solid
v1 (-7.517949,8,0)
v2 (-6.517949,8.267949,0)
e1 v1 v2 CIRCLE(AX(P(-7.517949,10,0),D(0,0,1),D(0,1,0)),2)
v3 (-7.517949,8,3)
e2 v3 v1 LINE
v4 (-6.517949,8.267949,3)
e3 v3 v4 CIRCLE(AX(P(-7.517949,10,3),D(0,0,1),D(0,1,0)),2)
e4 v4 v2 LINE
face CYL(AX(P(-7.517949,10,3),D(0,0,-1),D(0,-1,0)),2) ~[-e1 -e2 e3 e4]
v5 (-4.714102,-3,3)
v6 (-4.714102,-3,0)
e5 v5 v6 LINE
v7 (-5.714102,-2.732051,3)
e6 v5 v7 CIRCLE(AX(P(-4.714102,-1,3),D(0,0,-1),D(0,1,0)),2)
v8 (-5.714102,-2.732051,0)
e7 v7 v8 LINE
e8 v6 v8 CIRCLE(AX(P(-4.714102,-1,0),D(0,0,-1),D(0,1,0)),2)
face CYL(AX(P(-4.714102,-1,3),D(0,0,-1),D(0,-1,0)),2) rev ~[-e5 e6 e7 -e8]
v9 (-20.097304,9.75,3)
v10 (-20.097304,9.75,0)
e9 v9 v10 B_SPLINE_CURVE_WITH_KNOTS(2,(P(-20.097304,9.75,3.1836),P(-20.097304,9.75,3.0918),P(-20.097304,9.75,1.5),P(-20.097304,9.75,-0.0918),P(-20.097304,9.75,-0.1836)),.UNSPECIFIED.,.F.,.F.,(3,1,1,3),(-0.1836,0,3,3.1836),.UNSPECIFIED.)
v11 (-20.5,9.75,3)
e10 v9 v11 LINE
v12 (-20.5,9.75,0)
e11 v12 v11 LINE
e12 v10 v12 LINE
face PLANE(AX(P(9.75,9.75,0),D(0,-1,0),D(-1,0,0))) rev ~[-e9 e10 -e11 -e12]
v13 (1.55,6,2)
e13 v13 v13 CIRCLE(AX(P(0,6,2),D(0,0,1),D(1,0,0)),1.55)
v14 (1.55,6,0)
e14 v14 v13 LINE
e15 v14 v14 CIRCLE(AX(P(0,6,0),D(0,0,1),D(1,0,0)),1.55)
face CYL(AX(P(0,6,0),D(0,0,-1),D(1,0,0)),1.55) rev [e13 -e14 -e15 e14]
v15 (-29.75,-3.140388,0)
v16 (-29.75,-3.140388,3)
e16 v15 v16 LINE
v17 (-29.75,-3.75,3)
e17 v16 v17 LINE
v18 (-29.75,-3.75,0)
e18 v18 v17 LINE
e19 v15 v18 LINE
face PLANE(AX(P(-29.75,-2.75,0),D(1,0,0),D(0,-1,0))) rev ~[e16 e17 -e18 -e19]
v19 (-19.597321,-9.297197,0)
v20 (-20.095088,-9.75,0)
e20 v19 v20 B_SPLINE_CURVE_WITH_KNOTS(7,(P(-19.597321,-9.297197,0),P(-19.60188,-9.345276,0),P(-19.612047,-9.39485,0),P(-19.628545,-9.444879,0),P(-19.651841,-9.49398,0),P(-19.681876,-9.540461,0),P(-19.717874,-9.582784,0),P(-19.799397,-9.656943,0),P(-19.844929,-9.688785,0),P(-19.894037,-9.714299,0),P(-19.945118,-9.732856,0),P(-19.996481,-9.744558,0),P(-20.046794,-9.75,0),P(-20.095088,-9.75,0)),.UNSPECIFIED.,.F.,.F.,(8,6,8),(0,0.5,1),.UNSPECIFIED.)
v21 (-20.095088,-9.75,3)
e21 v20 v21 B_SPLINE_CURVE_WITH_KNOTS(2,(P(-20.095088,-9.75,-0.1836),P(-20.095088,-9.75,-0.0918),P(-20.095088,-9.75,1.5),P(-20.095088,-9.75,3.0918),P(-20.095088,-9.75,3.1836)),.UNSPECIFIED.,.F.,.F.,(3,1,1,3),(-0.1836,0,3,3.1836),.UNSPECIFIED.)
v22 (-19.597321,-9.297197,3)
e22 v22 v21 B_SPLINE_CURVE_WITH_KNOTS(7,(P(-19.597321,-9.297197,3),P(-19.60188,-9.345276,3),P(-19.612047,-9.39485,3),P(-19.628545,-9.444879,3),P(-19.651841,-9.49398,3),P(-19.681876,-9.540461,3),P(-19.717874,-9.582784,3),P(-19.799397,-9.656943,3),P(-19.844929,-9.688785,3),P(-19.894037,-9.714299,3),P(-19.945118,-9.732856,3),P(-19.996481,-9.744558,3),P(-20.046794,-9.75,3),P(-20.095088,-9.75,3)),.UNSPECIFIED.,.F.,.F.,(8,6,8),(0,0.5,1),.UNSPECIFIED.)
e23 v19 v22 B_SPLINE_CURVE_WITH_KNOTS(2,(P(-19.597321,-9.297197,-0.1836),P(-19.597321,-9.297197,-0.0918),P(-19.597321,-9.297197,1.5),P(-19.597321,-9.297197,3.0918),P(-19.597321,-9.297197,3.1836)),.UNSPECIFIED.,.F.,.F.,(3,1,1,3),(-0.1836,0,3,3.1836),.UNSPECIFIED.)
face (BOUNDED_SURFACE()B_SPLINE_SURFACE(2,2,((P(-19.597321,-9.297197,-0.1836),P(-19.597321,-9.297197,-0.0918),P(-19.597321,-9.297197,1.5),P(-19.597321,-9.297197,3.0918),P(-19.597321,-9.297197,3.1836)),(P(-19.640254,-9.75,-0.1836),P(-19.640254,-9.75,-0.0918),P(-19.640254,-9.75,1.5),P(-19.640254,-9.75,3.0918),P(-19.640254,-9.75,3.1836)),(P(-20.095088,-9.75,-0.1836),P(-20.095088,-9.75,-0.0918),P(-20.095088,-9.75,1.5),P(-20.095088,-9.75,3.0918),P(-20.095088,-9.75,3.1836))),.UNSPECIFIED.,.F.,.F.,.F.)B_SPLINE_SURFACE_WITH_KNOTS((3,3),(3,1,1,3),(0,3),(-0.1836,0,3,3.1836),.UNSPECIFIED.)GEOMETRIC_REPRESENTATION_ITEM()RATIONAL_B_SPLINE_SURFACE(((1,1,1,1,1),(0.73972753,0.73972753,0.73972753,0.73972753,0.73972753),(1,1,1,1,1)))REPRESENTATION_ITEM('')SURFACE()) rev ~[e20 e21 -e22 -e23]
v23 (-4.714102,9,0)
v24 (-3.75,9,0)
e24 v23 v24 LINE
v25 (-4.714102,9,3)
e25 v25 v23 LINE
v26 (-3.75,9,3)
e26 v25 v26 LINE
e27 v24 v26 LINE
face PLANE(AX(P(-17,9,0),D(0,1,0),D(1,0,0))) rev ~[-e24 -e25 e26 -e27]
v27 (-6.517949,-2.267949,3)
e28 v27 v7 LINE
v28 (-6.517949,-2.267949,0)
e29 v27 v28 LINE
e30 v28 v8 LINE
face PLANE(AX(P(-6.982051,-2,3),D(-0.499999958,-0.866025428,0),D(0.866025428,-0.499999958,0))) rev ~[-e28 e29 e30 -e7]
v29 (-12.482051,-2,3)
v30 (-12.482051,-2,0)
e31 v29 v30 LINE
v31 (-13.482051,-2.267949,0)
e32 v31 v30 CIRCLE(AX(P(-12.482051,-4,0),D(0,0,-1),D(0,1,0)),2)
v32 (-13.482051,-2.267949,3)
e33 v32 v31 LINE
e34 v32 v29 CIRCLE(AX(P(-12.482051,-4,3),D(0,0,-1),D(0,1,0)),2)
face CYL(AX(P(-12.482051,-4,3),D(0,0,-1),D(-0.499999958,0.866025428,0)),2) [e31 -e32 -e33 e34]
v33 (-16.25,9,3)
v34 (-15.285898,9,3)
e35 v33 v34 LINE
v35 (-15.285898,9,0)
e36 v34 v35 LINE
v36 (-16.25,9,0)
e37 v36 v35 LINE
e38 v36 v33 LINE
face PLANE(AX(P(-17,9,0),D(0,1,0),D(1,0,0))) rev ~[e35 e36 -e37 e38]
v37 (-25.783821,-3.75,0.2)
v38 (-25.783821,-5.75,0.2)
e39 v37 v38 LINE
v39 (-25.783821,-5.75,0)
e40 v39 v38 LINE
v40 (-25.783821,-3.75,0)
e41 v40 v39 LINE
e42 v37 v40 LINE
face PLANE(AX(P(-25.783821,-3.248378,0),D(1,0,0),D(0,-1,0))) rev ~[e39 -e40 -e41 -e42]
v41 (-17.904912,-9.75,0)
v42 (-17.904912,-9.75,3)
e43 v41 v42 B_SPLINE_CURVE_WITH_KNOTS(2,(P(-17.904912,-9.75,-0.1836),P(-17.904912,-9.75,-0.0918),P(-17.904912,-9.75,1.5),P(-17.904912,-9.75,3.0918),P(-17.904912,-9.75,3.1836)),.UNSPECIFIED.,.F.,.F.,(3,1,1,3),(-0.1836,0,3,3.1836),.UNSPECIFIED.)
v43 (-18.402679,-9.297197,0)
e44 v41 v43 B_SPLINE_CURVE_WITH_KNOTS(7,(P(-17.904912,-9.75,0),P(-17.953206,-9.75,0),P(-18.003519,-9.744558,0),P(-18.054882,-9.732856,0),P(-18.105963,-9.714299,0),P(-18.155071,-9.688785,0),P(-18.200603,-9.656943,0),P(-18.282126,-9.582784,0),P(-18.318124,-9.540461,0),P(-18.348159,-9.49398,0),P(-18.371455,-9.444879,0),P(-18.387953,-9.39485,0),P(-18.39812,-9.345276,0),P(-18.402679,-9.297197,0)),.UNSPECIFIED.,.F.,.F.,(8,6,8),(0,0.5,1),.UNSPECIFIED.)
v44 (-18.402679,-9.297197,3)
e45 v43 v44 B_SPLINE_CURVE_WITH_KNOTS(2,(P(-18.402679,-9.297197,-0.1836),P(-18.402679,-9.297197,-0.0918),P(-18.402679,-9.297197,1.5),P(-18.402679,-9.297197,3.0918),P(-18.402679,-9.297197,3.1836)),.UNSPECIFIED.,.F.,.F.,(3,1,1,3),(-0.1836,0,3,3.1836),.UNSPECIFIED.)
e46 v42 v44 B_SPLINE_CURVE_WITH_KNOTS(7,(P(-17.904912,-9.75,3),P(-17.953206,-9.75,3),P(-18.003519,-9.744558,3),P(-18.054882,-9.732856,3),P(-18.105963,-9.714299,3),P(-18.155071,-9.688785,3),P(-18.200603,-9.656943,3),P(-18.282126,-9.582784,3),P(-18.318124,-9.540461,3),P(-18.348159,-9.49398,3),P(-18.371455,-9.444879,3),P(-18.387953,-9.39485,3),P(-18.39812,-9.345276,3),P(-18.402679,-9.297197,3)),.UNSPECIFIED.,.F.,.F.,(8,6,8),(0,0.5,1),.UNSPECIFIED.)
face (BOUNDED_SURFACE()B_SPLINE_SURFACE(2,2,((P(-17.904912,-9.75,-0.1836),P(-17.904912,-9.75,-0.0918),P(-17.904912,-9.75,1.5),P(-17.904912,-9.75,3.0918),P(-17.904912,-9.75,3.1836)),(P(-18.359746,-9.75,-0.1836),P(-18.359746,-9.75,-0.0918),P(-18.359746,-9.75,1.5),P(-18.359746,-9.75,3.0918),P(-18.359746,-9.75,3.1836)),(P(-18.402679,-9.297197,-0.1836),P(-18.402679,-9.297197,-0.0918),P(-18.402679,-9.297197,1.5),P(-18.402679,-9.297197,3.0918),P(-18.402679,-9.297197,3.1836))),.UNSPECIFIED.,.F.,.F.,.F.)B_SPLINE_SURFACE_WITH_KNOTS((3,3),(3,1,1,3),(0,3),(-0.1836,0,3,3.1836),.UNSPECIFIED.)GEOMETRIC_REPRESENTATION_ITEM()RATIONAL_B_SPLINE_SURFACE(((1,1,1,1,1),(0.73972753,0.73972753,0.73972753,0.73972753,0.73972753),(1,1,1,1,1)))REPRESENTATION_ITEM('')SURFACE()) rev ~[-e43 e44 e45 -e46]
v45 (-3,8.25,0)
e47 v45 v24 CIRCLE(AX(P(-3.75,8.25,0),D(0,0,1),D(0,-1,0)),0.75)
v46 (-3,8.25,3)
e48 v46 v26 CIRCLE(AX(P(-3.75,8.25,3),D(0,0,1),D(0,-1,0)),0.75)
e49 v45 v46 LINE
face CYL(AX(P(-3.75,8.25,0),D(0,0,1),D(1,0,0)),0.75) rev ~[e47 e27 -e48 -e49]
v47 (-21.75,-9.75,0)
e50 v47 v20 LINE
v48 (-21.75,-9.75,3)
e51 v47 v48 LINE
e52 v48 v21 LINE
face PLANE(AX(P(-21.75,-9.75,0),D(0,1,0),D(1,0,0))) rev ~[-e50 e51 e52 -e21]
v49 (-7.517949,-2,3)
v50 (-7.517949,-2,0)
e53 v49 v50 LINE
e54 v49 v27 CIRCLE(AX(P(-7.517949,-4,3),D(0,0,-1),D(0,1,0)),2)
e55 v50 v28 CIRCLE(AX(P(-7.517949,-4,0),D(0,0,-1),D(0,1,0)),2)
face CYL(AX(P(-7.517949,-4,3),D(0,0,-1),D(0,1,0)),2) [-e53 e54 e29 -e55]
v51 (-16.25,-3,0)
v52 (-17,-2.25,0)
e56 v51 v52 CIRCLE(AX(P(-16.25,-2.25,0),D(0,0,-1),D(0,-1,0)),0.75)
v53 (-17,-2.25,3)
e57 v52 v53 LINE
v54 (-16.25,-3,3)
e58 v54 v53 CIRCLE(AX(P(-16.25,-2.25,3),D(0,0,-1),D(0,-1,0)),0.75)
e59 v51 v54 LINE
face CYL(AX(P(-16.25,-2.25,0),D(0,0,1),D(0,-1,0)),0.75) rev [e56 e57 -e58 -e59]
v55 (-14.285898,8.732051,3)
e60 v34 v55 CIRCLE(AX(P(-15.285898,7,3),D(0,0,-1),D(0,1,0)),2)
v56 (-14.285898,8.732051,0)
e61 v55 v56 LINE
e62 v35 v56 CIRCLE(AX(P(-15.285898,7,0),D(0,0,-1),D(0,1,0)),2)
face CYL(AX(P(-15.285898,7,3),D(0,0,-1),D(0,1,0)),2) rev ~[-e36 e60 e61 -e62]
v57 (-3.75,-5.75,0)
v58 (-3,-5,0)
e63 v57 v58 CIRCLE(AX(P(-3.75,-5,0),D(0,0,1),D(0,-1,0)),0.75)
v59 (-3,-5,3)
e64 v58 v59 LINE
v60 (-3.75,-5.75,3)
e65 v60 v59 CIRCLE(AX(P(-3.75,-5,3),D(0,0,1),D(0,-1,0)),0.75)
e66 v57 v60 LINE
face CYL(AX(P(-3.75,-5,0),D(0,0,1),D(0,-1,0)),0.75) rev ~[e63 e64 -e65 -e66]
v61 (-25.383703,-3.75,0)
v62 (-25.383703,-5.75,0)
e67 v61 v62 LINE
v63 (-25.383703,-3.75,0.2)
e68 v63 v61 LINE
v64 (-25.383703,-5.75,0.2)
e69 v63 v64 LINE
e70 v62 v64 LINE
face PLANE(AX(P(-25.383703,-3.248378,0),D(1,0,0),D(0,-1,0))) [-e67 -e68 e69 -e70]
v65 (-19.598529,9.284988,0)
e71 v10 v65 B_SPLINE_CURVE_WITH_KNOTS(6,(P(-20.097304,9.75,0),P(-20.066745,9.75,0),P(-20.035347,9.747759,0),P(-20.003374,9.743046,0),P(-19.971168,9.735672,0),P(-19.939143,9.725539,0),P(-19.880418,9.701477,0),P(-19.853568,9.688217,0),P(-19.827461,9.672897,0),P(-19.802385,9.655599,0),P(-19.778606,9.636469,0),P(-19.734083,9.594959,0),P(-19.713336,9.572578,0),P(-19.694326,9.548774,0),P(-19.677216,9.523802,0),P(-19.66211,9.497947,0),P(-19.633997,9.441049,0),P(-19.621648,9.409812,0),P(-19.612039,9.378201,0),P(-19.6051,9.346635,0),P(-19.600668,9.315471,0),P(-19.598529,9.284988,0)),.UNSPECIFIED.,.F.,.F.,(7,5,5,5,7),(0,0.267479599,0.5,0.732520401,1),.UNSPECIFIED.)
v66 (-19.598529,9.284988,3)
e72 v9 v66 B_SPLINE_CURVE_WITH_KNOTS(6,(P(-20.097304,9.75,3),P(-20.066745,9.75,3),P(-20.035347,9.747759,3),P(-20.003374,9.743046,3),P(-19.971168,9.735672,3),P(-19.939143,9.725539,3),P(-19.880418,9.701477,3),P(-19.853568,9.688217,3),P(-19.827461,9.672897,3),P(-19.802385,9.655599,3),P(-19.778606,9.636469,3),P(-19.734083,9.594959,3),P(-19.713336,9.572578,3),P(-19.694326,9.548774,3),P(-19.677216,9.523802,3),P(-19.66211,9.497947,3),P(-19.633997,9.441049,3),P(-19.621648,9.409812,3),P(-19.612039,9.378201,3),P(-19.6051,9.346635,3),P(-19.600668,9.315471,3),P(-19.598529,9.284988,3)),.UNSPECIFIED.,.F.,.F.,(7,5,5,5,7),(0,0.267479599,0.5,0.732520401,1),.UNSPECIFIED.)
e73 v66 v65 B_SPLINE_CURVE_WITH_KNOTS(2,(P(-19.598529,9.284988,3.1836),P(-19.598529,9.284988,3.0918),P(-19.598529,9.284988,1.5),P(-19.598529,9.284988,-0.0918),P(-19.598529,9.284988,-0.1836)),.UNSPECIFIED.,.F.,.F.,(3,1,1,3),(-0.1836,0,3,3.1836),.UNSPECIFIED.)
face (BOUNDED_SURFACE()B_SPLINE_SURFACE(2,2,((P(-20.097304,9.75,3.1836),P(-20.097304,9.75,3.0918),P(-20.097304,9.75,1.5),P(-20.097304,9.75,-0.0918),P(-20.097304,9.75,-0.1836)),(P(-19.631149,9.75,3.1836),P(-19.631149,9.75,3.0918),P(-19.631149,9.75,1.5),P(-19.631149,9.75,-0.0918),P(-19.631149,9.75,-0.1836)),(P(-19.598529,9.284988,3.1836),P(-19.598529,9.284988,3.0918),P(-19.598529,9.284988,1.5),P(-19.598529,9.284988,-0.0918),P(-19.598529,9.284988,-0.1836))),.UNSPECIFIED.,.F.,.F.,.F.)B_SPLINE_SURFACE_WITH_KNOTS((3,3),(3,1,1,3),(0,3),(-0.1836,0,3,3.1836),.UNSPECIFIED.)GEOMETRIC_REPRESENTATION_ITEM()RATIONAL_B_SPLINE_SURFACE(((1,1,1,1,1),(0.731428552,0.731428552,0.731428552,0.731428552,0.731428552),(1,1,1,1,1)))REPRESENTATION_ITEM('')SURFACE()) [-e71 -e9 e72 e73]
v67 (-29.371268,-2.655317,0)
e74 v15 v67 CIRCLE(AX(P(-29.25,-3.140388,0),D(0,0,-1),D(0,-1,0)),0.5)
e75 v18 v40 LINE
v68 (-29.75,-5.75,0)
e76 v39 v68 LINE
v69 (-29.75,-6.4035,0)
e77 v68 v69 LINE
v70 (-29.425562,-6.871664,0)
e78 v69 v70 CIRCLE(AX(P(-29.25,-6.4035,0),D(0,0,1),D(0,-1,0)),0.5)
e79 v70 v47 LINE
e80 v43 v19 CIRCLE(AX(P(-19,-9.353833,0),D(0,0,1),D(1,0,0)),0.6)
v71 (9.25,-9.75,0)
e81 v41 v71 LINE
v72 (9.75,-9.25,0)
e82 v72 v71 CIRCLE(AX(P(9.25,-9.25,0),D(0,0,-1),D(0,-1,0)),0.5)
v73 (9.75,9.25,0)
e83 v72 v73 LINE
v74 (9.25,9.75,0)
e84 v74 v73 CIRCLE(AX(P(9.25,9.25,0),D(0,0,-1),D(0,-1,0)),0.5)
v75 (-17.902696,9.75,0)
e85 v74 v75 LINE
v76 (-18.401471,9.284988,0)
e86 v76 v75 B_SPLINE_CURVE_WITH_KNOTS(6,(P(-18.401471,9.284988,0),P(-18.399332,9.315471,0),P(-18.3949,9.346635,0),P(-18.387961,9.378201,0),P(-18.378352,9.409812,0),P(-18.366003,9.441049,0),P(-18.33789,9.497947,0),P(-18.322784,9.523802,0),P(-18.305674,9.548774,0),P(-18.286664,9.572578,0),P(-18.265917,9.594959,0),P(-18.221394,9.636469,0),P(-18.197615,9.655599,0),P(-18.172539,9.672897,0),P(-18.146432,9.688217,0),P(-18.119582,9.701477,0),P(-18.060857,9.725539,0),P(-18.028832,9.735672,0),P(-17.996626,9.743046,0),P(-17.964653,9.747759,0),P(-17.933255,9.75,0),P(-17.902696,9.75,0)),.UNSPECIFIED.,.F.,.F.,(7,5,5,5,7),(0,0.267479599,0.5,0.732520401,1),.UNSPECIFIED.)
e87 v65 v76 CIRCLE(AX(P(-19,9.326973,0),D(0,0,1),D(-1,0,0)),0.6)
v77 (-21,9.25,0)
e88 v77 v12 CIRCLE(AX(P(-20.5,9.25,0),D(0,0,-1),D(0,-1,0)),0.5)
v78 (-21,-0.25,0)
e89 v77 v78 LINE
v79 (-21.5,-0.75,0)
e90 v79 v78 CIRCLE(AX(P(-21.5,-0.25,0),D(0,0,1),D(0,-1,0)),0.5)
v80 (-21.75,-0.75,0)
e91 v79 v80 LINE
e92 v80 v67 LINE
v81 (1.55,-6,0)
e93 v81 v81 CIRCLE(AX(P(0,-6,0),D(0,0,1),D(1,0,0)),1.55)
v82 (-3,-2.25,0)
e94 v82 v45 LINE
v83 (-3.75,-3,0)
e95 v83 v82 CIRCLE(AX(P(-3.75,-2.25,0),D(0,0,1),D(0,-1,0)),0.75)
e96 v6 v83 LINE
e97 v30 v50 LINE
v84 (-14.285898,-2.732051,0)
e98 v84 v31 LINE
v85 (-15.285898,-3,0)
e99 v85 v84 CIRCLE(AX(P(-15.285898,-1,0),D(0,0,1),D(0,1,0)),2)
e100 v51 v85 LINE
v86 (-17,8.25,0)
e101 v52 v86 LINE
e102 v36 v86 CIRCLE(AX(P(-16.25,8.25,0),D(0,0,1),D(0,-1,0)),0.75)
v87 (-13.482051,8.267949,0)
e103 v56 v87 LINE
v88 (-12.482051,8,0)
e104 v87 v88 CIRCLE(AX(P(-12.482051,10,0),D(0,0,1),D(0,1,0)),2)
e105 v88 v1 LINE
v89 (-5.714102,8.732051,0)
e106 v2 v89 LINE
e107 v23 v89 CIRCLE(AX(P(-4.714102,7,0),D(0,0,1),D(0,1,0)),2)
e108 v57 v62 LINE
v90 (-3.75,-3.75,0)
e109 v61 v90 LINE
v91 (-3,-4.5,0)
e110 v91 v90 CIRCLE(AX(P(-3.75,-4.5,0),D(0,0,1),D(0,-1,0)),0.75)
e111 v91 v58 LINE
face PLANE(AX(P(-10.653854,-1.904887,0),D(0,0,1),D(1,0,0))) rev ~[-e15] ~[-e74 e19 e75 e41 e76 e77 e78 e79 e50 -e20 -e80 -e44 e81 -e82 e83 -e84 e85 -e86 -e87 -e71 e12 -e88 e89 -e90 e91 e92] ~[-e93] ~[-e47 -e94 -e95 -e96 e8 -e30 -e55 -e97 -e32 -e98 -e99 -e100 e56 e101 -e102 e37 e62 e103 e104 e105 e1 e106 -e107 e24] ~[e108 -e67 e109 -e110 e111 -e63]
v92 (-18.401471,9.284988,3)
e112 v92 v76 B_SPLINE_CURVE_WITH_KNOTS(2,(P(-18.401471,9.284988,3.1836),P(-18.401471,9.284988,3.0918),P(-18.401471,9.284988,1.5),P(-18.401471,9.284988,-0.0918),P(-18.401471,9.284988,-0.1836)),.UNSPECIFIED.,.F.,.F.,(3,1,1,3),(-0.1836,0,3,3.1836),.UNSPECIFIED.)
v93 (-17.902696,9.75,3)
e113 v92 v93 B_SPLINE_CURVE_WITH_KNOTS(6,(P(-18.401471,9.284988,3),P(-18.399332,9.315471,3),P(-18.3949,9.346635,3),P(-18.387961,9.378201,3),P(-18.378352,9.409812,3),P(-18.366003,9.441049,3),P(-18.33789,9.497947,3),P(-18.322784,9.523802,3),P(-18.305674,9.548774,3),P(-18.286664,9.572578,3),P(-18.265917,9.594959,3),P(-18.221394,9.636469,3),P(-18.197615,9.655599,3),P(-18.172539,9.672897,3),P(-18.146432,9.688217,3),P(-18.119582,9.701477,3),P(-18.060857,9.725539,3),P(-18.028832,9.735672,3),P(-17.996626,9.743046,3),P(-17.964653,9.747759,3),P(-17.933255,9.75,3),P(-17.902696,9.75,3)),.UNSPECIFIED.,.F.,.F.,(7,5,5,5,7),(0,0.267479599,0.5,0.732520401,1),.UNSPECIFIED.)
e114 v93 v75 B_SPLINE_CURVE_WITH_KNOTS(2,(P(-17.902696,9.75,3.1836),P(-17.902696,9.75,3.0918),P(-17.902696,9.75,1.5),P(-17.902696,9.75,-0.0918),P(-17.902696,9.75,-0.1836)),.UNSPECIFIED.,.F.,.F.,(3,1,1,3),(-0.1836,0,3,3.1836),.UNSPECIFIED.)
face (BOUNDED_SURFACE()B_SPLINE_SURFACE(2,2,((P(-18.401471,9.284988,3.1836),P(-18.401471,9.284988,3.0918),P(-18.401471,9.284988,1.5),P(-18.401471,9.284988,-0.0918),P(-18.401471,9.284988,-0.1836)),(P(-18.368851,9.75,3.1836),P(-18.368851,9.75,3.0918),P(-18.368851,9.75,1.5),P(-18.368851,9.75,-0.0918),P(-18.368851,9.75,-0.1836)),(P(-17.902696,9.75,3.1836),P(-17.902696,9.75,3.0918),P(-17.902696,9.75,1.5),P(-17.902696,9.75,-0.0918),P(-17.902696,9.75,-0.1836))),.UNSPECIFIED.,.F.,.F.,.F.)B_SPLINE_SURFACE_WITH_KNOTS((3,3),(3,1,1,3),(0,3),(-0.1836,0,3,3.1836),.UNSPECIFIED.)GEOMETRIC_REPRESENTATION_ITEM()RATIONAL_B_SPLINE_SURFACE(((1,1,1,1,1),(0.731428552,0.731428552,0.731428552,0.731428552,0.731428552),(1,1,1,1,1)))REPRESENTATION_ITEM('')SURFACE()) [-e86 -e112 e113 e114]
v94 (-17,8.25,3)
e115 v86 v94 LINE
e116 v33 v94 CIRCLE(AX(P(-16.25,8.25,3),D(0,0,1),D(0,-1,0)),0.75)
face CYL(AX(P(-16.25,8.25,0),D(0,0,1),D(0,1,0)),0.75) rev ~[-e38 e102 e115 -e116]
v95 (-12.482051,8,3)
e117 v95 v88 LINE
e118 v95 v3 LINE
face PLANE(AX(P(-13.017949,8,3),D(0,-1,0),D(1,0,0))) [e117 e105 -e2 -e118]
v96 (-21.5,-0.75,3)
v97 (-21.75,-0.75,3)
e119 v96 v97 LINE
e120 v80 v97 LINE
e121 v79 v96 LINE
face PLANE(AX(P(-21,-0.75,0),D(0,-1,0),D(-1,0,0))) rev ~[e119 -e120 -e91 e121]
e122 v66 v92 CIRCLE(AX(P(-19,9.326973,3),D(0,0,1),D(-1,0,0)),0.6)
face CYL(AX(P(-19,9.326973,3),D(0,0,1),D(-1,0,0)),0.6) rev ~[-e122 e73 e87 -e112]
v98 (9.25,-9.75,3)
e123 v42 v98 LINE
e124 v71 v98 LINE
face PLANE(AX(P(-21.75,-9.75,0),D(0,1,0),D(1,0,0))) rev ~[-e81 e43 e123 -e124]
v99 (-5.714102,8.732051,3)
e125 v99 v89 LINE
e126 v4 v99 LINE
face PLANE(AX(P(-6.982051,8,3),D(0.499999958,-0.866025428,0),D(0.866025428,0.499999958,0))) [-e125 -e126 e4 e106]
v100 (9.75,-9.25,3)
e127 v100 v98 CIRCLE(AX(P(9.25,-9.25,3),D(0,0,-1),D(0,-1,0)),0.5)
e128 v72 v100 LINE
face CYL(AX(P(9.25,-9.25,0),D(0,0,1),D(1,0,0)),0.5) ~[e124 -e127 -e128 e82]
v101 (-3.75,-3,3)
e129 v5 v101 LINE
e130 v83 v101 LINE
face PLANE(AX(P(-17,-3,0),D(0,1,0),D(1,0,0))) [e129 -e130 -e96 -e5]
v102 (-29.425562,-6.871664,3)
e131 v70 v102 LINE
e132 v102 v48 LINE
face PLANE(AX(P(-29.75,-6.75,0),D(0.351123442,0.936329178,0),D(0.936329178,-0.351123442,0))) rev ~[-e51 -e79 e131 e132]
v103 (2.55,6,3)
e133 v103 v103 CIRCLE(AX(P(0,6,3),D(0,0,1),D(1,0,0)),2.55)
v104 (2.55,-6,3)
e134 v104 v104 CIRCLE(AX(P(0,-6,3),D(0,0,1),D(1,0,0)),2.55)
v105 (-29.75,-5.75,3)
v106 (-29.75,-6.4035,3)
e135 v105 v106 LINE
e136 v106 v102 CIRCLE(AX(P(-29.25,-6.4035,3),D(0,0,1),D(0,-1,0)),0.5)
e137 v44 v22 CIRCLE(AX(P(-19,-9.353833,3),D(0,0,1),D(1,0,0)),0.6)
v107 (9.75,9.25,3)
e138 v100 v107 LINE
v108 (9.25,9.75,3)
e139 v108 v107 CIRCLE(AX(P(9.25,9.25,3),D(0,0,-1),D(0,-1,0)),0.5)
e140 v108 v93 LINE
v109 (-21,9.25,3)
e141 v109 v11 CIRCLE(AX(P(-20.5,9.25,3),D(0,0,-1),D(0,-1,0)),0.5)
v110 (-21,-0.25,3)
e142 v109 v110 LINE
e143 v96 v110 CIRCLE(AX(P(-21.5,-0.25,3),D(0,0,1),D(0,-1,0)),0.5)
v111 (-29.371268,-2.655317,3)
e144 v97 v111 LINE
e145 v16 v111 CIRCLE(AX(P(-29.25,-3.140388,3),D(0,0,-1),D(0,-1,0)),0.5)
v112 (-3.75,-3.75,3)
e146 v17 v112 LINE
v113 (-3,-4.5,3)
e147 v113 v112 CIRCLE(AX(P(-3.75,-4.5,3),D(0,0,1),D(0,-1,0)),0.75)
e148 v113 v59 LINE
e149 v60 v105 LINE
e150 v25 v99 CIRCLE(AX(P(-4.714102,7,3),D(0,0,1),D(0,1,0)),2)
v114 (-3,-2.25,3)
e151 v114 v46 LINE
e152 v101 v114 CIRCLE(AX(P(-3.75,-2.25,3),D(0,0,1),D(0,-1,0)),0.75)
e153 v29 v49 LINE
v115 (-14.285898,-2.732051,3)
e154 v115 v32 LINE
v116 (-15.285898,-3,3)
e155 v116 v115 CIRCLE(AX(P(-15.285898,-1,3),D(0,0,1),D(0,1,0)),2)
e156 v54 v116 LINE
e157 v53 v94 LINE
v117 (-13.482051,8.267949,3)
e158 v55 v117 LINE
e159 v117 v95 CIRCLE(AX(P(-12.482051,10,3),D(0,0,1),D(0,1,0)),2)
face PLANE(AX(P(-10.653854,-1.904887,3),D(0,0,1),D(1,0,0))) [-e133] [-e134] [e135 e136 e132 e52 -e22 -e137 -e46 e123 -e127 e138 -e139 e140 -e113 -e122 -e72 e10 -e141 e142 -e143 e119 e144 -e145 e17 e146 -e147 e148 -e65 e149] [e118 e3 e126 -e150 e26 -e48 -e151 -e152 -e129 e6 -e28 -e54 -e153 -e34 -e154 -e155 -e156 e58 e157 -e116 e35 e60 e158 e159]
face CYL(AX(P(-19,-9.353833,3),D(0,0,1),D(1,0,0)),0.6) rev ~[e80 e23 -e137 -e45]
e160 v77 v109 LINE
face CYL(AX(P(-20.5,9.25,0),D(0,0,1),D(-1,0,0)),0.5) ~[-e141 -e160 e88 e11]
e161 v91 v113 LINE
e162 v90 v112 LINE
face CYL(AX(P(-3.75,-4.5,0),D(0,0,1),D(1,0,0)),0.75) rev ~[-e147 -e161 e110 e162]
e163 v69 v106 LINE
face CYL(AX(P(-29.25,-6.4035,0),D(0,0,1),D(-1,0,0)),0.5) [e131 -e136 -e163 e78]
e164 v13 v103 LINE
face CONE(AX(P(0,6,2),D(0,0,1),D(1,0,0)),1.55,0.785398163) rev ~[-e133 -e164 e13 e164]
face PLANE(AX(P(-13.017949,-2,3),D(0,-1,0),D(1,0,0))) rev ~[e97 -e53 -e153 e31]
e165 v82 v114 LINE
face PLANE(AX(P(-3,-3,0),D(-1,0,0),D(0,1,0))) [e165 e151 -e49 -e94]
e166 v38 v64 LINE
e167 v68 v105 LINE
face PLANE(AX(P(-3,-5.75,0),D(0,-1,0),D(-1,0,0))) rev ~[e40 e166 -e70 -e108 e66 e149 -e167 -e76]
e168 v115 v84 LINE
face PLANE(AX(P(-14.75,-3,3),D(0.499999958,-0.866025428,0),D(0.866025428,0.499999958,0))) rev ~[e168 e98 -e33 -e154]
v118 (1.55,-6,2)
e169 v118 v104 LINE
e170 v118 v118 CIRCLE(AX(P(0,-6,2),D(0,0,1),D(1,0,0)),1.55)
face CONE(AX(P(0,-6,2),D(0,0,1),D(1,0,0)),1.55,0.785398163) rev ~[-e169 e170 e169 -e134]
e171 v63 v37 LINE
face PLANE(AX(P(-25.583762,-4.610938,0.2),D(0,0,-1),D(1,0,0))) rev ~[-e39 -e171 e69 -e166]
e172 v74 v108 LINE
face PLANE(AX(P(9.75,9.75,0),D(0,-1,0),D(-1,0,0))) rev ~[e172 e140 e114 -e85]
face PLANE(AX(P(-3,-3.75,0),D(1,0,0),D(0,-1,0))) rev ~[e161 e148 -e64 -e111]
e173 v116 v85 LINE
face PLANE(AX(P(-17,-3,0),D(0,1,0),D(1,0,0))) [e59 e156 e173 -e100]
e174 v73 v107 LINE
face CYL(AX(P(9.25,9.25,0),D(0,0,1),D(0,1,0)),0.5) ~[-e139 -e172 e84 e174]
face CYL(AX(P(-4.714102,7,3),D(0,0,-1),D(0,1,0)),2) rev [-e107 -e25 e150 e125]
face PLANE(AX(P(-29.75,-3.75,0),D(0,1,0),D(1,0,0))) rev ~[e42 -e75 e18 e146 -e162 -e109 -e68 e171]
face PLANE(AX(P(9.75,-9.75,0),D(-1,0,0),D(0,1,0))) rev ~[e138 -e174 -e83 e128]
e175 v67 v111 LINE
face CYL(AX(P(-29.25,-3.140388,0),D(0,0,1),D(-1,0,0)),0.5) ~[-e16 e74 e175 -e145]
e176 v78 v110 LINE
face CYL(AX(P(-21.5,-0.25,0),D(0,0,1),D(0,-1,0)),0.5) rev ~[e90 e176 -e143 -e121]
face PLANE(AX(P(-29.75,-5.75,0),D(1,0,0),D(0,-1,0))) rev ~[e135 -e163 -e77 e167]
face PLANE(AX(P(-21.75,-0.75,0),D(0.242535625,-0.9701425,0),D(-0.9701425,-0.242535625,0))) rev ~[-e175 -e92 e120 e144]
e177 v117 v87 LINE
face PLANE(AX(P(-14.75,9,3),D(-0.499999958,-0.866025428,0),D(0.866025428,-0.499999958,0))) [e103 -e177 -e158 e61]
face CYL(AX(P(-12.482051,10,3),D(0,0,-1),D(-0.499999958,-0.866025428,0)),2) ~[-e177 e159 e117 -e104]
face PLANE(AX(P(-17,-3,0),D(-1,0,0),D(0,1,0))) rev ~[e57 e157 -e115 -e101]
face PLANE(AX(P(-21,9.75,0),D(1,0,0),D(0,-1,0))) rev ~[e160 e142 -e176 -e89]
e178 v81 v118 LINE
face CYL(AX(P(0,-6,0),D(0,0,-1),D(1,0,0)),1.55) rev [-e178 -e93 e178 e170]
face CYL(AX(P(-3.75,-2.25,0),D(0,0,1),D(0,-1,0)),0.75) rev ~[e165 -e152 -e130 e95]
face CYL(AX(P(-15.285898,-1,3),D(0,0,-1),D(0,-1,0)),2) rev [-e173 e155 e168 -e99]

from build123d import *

# Parameters (mm, degrees)
SKETCH_R     = 1.55
SKETCH_W     = 14
SKETCH_H     = 12
PAD_DEPTH    = 3
FILLET_R     = 0.75
POCKET_DEPTH = 5
FILLET001_R  = 0.5
CHAMFER_SIZE = 1
PAD001_DEPTH = 3
FILLET002_R  = 2
SKETCH004_W  = 0.400118
SKETCH004_H  = 2.725121
PAD002_DEPTH = 0.2


with BuildPart() as part:
    # Sketch → Pad (new body)
    with BuildSketch(Plane.XY):
        Polygon((-9.75, -9.75), (9.75, -9.75), (9.75, 9.75), (-9.75, 9.75), (-21, 9.75), (-21, -0.75), (-21.75, -0.75), (-29.75, -2.75), (-29.75, -3.75), (-3, -3.75), (-3, -5.75), (-29.75, -5.75), (-29.75, -6.75), (-21.75, -9.75), align=None)
        with Locations((0, 6)):
            Circle(SKETCH_R, mode=Mode.SUBTRACT)
        with Locations((0, -6)):
            Circle(SKETCH_R, mode=Mode.SUBTRACT)
        with Locations((-10, 3)):
            Rectangle(SKETCH_W, SKETCH_H, mode=Mode.SUBTRACT)
    extrude(amount=PAD_DEPTH)

    # Fillet
    fillet_edges = [part.edges().sort_by_distance(p)[0] for p in [
        (-3, -3, 1.5),
        (-3, 9, 1.5),
        (-17, 9, 1.5),
        (-17, -3, 1.5),
        (-3, -3.75, 1.5),
        (-3, -5.75, 1.5),
    ]]
    fillet(fillet_edges, radius=FILLET_R)

    # Sketch002 (on Face26 of Fillet) → Pocket (cut)
    with BuildSketch(Plane.XY.offset(3)):
        with BuildLine():
            ThreePointArc((-18.4, -9.353833), (-19, -8.753833), (-19.6, -9.353833))
            Line((-19.6, -9.353833), (-19.6, -11.103725))
            ThreePointArc((-19.6, -11.103725), (-19, -11.703725), (-18.4, -11.103725))
            Line((-18.4, -9.353833), (-18.4, -11.103725))
        make_face()
        with BuildLine():
            ThreePointArc((-18.4, 12.382466), (-19, 12.982466), (-19.6, 12.382466))
            Line((-19.6, 12.382466), (-19.6, 9.326973))
            ThreePointArc((-19.6, 9.326973), (-19, 8.726973), (-18.4, 9.326973))
            Line((-18.4, 12.382466), (-18.4, 9.326973))
        make_face()
    extrude(amount=-POCKET_DEPTH, mode=Mode.SUBTRACT)

    # Fillet001
    fillet001_edges = [part.edges().sort_by_distance(p)[0] for p in [
        (-21, 9.75, 1.5),
        (-21, -0.75, 1.5),
        (9.75, -9.75, 1.5),
        (9.75, 9.75, 1.5),
        (-19.6, 9.75, 1.5),
        (-18.4, 9.75, 1.5),
        (-19.6, -9.75, 1.5),
        (-18.4, -9.75, 1.5),
        (-29.75, -6.75, 1.5),
        (-29.75, -2.75, 1.5),
    ]]
    fillet(fillet001_edges, radius=FILLET001_R)

    # Chamfer
    chamfer_edges = [part.edges().sort_by_distance(p)[0] for p in [
        (-1.55, 6, 3),
        (-1.55, -6, 3),
    ]]
    chamfer(chamfer_edges, length=CHAMFER_SIZE)

    # Sketch003 (on Face4 of Chamfer) → Pad001 (join)
    with BuildSketch(Plane.XY.offset(3)):
        Polygon((-14.75, 9), (-13.017949, 8), (-6.982051, 8), (-5.25, 9), align=None)
        Polygon((-14.75, -3), (-13.017949, -2), (-6.982051, -2), (-5.25, -3), align=None)
    extrude(amount=-PAD001_DEPTH)

    # Fillet002
    fillet002_edges = [part.edges().sort_by_distance(p)[0] for p in [
        (-5.25, -3, 1.5),
        (-14.75, -3, 1.5),
        (-13.017949, -2, 1.5),
        (-6.982051, -2, 1.5),
        (-5.25, 9, 1.5),
        (-6.982051, 8, 1.5),
        (-13.017949, 8, 1.5),
        (-14.75, 9, 1.5),
    ]]
    fillet(fillet002_edges, radius=FILLET002_R)

    # Sketch004 (on Face1 of Fillet002) → Pad002 (join)
    with BuildSketch(Plane(origin=(0, 0, 0), x_dir=(1, 0, 0), z_dir=(0, 0, -1))):
        with Locations((-25.583762, 4.610938)):
            Rectangle(SKETCH004_W, SKETCH004_H)
    extrude(amount=-PAD002_DEPTH)


solid = part.part
